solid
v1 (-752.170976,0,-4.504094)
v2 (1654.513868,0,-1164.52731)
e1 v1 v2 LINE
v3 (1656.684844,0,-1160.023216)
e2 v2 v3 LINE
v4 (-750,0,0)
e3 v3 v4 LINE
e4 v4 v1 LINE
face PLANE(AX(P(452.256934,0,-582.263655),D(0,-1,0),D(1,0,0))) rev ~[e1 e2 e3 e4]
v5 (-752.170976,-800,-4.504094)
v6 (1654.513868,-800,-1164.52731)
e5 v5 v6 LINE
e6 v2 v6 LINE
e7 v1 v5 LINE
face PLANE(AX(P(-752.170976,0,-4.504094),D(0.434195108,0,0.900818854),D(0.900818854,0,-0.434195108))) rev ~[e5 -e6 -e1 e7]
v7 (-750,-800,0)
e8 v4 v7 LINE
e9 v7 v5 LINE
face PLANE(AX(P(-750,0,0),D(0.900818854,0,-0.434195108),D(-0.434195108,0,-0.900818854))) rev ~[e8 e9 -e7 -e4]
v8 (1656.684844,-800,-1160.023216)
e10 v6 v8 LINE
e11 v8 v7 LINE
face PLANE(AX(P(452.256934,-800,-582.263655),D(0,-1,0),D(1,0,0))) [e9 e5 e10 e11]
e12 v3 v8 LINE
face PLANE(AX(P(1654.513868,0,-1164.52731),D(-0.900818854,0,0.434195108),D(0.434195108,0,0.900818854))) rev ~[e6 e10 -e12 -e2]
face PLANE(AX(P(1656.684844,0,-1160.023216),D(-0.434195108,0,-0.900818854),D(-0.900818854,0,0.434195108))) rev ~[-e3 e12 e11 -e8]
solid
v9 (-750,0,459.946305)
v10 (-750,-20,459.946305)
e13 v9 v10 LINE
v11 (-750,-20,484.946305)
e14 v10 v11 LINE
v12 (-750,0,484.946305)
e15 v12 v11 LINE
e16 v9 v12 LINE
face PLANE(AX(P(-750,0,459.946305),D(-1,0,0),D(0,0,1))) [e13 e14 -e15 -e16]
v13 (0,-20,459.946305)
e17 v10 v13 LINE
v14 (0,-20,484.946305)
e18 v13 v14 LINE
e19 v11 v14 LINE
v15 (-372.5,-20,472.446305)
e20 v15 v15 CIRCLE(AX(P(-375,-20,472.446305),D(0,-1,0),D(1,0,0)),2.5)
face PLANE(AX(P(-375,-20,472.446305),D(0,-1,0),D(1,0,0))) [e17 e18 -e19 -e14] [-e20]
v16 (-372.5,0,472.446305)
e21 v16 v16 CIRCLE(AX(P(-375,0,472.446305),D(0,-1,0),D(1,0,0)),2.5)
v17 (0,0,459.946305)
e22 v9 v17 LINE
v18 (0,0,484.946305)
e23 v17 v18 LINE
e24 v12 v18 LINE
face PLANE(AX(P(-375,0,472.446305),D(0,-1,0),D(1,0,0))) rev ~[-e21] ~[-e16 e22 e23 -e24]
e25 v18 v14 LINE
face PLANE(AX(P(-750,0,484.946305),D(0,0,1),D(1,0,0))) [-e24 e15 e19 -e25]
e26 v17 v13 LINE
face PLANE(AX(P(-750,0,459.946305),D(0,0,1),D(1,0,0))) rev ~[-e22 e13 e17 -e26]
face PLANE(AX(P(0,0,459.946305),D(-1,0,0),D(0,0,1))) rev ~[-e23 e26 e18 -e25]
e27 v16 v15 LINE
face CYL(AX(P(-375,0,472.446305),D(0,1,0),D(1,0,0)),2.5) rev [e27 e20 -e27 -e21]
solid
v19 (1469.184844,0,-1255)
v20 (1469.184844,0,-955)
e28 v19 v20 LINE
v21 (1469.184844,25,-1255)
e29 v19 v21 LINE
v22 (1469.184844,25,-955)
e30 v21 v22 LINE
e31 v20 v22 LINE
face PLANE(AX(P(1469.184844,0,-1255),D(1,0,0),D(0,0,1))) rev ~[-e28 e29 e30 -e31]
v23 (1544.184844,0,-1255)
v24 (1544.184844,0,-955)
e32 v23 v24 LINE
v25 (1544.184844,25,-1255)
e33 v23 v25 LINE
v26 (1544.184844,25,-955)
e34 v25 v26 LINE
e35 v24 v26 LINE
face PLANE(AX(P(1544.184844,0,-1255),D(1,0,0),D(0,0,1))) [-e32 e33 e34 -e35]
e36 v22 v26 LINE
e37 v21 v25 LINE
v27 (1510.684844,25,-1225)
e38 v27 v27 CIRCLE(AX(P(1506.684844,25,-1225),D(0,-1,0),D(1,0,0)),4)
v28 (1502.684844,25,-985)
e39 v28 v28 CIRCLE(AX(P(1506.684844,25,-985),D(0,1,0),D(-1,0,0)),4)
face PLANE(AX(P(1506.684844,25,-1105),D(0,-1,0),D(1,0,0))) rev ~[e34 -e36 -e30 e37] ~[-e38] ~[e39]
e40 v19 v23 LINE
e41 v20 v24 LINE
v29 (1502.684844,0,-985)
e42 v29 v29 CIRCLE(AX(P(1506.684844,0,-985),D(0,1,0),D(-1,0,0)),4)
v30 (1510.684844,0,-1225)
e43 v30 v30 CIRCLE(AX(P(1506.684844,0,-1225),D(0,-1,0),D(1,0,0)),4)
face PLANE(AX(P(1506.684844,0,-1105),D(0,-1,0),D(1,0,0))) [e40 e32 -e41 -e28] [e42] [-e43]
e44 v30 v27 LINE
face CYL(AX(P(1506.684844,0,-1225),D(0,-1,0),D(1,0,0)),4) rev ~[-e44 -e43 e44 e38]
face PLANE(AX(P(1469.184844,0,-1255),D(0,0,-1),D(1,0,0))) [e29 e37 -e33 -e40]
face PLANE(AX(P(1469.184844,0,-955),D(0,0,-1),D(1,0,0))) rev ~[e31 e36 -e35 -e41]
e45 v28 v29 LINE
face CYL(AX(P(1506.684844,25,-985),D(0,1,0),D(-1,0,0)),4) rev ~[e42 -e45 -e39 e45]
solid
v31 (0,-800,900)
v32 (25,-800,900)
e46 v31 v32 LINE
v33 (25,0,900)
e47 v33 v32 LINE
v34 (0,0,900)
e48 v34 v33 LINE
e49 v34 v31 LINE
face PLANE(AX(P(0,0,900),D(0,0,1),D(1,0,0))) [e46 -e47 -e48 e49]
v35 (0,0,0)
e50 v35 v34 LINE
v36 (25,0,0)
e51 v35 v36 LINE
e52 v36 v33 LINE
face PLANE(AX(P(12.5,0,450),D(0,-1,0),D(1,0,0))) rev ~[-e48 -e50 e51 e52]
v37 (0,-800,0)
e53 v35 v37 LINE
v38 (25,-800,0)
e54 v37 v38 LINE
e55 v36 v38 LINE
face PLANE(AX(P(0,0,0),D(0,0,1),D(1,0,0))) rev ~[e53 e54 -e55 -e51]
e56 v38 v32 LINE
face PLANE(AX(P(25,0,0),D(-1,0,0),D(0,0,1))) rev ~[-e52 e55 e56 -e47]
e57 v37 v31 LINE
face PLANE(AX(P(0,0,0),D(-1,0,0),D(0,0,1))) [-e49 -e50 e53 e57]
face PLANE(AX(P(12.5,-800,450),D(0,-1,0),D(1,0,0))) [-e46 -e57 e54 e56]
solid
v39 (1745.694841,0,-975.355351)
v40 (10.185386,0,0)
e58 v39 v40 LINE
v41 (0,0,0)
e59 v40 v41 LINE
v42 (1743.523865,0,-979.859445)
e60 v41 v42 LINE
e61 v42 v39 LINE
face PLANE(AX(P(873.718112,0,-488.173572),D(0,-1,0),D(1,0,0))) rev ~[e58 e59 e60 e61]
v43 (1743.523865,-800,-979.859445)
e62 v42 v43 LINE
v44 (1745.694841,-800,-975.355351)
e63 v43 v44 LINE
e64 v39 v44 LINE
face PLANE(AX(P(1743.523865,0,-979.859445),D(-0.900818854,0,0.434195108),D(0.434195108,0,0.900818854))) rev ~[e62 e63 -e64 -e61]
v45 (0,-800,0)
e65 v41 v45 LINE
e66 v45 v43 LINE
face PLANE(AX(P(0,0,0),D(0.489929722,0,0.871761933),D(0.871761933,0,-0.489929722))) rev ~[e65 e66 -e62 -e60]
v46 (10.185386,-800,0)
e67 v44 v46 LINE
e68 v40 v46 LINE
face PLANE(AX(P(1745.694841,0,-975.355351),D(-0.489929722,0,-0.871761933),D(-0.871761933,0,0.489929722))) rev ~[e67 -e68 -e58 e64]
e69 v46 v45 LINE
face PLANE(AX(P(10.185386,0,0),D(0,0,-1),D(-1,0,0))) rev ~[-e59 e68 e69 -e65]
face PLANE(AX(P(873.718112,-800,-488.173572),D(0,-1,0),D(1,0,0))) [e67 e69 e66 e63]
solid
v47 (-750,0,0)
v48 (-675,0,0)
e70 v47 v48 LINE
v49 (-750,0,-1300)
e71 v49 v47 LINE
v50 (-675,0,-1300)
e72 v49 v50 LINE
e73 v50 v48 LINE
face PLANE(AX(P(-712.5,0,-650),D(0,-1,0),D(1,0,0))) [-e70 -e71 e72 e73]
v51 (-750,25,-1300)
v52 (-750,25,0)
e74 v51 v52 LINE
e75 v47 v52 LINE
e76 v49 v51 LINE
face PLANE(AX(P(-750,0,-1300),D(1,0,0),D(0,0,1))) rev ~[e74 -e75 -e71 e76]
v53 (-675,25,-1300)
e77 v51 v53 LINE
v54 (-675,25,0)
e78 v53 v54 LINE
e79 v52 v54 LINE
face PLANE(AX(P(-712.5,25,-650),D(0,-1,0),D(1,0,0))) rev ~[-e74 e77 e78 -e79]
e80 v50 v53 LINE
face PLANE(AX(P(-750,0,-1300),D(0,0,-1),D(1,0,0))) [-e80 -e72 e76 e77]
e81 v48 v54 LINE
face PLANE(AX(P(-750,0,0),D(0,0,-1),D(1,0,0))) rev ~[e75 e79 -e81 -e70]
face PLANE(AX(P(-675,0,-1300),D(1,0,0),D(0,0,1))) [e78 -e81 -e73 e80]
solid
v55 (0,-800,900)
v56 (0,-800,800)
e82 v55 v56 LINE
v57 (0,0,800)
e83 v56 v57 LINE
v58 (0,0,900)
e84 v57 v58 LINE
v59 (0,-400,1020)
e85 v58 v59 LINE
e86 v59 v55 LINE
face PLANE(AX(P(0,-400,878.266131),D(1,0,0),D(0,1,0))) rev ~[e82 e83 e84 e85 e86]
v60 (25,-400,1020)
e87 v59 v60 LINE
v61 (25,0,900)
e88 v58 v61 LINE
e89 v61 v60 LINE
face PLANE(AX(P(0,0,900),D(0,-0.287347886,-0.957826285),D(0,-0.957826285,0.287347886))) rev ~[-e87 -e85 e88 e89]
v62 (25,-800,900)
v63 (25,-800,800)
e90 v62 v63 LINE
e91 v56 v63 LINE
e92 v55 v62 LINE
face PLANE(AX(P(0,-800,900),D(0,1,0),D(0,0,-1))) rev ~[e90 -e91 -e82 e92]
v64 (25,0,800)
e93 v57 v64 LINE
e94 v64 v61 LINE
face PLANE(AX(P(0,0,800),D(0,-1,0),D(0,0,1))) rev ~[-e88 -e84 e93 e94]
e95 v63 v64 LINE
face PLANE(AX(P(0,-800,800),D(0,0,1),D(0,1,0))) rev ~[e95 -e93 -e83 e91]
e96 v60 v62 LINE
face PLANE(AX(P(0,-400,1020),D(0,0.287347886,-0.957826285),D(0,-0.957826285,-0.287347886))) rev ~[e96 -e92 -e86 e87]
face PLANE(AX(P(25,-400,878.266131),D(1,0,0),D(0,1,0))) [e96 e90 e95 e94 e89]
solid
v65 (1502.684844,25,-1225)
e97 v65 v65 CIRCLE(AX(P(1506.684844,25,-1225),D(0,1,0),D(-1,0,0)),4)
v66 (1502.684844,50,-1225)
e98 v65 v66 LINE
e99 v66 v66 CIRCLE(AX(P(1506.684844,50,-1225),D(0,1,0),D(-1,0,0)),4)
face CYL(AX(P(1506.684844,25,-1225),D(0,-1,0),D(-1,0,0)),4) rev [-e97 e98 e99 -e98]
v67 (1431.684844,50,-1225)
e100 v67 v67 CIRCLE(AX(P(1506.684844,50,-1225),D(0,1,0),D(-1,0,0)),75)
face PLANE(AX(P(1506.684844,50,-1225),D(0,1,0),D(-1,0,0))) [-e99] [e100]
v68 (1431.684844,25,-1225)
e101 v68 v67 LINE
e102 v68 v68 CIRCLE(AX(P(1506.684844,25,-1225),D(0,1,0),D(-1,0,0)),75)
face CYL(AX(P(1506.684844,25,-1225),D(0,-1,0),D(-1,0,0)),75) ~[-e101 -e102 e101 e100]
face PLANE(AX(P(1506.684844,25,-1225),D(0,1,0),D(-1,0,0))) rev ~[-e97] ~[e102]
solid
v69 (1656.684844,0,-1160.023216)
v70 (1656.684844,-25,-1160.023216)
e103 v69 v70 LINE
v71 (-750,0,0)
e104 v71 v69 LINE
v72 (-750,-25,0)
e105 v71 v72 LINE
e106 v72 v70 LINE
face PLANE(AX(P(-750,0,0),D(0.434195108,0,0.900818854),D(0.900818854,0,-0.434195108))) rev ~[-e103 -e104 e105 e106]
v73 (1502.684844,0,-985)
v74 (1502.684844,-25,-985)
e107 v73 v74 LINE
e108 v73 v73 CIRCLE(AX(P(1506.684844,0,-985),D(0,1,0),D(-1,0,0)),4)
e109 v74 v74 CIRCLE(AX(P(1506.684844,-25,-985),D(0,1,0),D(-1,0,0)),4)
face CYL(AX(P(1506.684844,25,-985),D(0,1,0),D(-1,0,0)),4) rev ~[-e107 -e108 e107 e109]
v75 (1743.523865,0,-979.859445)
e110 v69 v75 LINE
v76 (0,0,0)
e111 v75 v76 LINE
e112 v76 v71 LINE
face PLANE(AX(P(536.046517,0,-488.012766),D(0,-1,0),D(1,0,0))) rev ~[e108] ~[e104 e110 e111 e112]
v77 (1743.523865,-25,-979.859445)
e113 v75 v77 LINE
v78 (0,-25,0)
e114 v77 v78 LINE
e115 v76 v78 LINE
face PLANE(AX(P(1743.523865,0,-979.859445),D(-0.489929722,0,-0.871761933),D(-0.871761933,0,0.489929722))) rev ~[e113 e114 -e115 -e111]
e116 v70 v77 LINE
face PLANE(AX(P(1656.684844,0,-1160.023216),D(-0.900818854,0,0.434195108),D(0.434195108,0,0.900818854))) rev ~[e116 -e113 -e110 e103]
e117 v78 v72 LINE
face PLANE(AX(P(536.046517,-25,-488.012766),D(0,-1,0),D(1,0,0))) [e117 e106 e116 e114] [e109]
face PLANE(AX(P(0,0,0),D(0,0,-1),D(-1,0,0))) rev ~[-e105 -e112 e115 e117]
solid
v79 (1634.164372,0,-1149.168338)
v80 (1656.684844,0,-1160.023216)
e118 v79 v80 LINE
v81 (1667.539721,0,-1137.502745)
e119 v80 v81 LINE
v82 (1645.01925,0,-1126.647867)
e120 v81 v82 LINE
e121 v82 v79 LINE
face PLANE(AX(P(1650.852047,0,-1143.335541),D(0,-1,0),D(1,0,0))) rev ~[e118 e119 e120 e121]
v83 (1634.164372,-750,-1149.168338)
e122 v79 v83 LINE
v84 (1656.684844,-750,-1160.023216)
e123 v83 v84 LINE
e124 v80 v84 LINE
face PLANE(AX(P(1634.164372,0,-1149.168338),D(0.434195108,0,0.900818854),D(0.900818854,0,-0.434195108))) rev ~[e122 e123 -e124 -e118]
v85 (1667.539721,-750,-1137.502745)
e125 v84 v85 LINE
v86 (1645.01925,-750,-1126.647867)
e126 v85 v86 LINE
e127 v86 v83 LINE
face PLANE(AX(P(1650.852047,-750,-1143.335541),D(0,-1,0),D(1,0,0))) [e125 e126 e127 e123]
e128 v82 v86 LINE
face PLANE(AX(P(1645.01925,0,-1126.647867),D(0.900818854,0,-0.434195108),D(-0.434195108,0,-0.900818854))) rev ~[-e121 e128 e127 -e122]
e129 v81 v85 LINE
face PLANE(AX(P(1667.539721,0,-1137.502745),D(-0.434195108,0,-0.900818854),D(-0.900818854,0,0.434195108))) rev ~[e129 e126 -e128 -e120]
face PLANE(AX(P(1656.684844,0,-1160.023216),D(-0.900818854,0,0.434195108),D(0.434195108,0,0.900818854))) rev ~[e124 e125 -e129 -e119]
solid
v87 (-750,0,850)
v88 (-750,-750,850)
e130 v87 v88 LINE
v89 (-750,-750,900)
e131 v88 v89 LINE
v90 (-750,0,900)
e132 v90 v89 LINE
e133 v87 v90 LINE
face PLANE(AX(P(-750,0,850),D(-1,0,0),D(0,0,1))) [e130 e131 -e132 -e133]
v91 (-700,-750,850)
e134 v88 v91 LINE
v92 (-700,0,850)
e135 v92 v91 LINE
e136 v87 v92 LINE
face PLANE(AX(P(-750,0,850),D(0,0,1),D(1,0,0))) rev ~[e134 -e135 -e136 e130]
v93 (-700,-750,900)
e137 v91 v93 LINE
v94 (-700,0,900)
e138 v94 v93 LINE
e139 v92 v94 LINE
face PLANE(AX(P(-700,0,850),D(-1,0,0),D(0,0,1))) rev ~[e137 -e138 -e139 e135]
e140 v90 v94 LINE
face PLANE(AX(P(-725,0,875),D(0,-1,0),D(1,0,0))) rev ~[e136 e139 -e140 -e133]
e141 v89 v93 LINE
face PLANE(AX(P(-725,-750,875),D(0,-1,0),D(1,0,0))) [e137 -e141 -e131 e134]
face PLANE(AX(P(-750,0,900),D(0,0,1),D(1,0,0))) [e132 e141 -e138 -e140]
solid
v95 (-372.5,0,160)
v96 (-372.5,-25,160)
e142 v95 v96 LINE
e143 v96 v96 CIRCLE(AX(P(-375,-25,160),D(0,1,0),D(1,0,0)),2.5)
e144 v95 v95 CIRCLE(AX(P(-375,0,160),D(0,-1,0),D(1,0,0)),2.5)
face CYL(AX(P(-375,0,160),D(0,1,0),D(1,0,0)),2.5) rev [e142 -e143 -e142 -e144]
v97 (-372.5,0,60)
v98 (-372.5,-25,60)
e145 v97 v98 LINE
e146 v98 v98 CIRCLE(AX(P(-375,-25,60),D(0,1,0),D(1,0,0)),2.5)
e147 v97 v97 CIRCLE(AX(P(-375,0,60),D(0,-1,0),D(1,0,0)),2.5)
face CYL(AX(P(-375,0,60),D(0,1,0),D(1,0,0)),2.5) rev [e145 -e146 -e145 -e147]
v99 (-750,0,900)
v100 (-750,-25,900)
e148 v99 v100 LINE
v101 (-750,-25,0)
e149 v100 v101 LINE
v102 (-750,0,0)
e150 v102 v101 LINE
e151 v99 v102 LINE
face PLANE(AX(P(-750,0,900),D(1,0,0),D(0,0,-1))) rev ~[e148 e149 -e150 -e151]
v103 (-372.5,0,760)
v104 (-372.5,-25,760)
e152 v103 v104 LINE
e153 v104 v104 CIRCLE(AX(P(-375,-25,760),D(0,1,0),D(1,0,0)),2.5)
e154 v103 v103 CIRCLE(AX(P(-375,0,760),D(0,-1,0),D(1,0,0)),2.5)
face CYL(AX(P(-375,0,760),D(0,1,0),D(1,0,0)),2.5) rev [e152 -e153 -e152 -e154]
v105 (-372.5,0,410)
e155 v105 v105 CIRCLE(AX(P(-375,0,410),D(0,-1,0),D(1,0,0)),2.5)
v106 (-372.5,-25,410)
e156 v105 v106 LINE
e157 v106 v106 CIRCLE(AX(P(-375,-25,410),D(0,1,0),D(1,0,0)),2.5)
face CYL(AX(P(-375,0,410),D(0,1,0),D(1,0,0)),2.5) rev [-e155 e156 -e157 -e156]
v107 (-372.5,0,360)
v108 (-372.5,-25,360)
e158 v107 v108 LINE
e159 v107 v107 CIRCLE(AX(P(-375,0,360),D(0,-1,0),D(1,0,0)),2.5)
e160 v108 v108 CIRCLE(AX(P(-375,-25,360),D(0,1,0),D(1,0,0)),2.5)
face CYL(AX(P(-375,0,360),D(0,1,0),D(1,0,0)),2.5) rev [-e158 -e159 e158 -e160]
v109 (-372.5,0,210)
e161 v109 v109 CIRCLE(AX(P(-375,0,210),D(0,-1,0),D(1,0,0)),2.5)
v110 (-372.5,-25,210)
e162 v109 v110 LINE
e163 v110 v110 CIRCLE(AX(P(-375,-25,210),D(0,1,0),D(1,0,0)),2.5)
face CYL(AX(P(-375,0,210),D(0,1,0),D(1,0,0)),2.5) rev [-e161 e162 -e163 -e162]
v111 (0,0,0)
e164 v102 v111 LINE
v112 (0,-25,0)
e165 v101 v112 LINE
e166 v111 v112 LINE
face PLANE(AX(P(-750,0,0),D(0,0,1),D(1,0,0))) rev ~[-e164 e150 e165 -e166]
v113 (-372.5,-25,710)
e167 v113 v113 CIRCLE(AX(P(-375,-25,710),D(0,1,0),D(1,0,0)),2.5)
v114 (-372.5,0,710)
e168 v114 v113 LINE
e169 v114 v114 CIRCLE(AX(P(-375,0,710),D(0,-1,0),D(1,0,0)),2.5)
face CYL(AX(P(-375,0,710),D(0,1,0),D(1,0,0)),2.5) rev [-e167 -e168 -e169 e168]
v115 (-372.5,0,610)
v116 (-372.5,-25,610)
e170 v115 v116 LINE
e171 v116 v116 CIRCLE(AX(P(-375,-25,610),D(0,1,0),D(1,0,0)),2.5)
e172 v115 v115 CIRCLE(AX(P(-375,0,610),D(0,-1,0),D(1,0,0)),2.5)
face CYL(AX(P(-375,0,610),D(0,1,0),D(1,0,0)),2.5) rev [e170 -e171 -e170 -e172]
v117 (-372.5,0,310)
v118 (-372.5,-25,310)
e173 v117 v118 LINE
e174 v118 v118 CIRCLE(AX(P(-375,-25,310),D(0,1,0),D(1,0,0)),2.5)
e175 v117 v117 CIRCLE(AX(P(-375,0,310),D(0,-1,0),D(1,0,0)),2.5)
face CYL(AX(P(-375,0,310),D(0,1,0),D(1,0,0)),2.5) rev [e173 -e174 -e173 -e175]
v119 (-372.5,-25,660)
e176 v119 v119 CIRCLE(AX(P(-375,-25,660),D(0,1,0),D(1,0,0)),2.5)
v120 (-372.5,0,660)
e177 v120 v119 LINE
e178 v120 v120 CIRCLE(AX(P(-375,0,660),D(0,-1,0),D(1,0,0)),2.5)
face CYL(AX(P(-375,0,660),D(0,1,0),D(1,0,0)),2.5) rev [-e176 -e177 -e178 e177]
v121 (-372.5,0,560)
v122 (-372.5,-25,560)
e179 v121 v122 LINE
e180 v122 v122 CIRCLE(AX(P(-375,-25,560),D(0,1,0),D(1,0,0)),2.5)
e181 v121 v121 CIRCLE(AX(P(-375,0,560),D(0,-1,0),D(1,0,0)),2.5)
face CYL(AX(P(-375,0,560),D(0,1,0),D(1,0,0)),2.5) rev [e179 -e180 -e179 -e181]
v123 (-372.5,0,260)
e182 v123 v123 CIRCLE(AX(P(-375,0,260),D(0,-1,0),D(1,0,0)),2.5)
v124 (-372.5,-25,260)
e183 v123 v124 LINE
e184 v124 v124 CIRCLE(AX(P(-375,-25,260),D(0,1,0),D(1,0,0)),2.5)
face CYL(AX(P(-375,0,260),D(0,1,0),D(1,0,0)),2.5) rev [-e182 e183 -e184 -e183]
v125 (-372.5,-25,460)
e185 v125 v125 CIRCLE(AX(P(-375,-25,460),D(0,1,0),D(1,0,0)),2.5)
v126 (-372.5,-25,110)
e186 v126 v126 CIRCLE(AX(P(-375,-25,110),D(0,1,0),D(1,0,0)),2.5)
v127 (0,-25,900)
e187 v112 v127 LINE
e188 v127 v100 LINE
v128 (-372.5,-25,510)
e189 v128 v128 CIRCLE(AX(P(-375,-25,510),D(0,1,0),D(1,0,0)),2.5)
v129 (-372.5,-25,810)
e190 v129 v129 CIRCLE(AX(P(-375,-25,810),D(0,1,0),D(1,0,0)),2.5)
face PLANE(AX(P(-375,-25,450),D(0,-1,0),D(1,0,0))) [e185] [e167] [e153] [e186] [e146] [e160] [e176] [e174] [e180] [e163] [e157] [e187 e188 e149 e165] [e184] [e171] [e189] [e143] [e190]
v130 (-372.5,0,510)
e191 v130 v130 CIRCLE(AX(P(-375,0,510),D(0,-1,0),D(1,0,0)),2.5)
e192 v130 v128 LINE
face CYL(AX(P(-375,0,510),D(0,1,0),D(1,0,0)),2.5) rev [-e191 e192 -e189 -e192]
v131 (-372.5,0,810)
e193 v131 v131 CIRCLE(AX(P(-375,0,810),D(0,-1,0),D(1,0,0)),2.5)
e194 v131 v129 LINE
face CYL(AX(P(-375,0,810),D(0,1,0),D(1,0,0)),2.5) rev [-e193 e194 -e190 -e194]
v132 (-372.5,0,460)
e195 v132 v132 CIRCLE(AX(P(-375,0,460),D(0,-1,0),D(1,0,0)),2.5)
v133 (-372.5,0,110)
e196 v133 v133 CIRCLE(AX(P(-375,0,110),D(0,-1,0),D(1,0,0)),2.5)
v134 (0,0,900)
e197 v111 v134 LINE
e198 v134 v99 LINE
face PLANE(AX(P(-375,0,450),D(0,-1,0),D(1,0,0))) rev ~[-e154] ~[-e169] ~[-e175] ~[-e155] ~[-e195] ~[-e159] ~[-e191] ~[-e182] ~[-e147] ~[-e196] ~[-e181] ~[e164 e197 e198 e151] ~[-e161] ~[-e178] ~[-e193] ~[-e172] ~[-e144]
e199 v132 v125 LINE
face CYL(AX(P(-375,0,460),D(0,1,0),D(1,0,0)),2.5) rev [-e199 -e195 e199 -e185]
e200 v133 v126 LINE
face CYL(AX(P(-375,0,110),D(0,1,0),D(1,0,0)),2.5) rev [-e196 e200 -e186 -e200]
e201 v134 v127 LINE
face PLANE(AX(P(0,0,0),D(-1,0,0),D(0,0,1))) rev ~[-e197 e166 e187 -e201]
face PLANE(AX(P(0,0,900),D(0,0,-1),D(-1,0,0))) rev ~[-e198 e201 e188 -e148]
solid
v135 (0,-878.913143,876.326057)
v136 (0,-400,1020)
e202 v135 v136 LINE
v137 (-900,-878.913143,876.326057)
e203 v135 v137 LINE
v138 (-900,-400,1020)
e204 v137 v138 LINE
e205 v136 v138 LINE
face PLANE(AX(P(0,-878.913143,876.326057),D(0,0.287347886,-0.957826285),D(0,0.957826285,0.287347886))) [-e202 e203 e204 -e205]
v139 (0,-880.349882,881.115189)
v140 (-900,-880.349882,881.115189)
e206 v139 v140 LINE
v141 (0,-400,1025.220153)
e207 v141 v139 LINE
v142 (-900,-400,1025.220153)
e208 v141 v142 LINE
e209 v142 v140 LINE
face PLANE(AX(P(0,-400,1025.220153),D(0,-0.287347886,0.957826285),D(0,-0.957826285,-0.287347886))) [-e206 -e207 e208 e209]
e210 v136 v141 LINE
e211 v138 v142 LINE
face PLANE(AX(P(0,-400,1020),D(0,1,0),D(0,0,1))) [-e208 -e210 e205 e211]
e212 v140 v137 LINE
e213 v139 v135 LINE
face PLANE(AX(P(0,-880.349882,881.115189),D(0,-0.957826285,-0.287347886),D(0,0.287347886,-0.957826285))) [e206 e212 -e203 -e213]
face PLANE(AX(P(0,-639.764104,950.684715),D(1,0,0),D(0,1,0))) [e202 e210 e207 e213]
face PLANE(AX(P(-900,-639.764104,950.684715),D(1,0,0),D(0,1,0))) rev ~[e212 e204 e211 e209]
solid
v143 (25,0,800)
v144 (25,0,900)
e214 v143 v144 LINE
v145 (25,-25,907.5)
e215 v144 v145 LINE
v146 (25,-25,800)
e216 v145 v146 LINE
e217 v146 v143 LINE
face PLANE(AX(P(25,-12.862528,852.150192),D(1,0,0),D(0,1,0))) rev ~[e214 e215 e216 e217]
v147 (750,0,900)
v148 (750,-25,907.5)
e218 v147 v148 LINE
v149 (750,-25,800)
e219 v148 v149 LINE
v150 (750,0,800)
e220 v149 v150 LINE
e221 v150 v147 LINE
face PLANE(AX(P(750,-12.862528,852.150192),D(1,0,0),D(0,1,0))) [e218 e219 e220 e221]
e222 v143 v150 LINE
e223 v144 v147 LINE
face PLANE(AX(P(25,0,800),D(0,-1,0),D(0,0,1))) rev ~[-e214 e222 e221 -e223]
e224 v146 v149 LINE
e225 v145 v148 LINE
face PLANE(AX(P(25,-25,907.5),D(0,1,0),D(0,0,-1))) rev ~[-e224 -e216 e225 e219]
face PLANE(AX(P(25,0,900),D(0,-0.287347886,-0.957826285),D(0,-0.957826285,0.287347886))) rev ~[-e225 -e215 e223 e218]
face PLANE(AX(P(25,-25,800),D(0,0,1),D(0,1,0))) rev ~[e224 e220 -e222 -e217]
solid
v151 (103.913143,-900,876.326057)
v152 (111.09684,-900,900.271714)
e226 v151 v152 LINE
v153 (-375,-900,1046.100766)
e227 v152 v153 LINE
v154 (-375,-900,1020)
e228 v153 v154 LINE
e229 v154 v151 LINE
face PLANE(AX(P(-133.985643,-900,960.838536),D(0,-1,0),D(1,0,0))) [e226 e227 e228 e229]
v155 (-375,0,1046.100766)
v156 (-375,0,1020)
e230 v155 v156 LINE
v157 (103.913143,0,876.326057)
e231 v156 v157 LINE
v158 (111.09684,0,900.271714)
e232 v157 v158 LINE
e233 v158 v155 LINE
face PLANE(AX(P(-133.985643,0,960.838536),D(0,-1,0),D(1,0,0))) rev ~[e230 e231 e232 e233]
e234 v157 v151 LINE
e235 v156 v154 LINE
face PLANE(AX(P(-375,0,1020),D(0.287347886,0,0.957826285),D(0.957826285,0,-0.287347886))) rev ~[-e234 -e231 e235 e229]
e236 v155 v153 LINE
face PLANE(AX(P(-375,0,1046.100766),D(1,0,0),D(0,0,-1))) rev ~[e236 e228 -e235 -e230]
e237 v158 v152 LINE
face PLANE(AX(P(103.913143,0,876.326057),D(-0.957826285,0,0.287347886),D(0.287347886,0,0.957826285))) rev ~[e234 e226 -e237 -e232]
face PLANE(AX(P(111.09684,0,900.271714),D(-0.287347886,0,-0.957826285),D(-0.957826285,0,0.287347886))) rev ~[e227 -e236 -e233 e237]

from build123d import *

# Parameters (mm, degrees)
F1_DEPTH  = 25
F2_DEPTH  = 25
F3_W      = 50
F3_H      = 50
F4_DEPTH  = 750
F5_W      = 25
F5_H      = 900
F6_DEPTH  = 800
F8_DEPTH  = 800
F9_W      = 750
F9_H      = 25
F9_R      = 2.5
F10_DEPTH = 20
F12_DEPTH = 900
F14_DEPTH = 800
F16_DEPTH = 900
F17_DEPTH = 25
F19_DEPTH = 725
F21_W     = 75
F21_H     = 1300
F22_DEPTH = 25
F23_W     = 75
F23_H     = 300
F23_R     = 4
F24_DEPTH = 25
F25_R     = 75
F25_R_2   = 4
F26_DEPTH = 25
F27_R     = 4
F28_DEPTH = 925.001
F29_R     = 2.5
F30_DEPTH = 900.001


with BuildPart() as f1:
    # F0 (on Front) → F1 (new body)
    with BuildSketch(Plane.XZ):
        Polygon((-750, 0), (1656.6848435524, -1160.0232158931), (1743.5238650638, -979.8594449986), (0, 0), align=None)
    extrude(amount=F1_DEPTH)


with BuildPart() as f2:
    # F0 (on Front) → F2 (new body)
    with BuildSketch(Plane.XZ):
        Polygon((-750, 900), (-750, 0), (0, 0), (0, 200), (0, 900), align=None)
    extrude(amount=F2_DEPTH)

    # F29 (on face) → F30 (cut, through all)
    with BuildSketch(Plane.XZ):
        with Locations((-375, 60)):
            Circle(F29_R)
        with Locations((-375, 110)):
            Circle(F29_R)
        with Locations((-375, 160)):
            Circle(F29_R)
        with Locations((-375, 210)):
            Circle(F29_R)
        with Locations((-375, 260)):
            Circle(F29_R)
        with Locations((-375, 310)):
            Circle(F29_R)
        with Locations((-375, 360)):
            Circle(F29_R)
        with Locations((-375, 410)):
            Circle(F29_R)
        with Locations((-375, 460)):
            Circle(F29_R)
        with Locations((-375, 510)):
            Circle(F29_R)
        with Locations((-375, 560)):
            Circle(F29_R)
        with Locations((-375, 610)):
            Circle(F29_R)
        with Locations((-375, 660)):
            Circle(F29_R)
        with Locations((-375, 710)):
            Circle(F29_R)
        with Locations((-375, 760)):
            Circle(F29_R)
        with Locations((-375, 810)):
            Circle(F29_R)
    extrude(amount=F30_DEPTH, mode=Mode.SUBTRACT)


with BuildPart() as f4:
    # F3 (on Front) → F4 (new body)
    with BuildSketch(Plane.XZ):
        with Locations((-725, 875)):
            Rectangle(F3_W, F3_H)
    extrude(amount=F4_DEPTH)


with BuildPart() as f4b:
    # F3 (on Front) → F4, piece 2 (new body)
    with BuildSketch(Plane.XZ):
        Polygon((1656.6848435524, -1160.0232158931), (1667.5397212413, -1137.5027445313), (1645.0192498795, -1126.6478668424), (1634.1643721905, -1149.1683382042), align=None)
    extrude(amount=F4_DEPTH)


with BuildPart() as f6:
    # F5 (on Front) → F6 (new body)
    with BuildSketch(Plane.XZ):
        with Locations((12.5, 450)):
            Rectangle(F5_W, F5_H)
    extrude(amount=F6_DEPTH)


with BuildPart() as f8:
    # F7 (on Front) → F8 (new body)
    with BuildSketch(Plane.XZ):
        Polygon((1656.6848435524, -1160.0232158931), (-750, 0), (-752.1709755378, -4.5040942724), (1654.5138680146, -1164.5273101655), align=None)
    extrude(amount=F8_DEPTH)


with BuildPart() as f10:
    # F9 (on Front) → F10 (new body)
    with BuildSketch(Plane.XZ):
        with Locations((-375, 472.4463045597)):
            Rectangle(F9_W, F9_H)
        with Locations((-375, 472.4463045597)):
            Circle(F9_R, mode=Mode.SUBTRACT)
    extrude(amount=F10_DEPTH)


with BuildPart() as f12:
    # F11 (on Front) → F12 (new body)
    with BuildSketch(Plane.XZ):
        Polygon((-375, 1046.1007662723), (-375, 1020), (103.9131426106, 876.3260572168), (111.0968397497, 900.2717143474), align=None)
    extrude(amount=F12_DEPTH)


with BuildPart() as f14:
    # F13 (on Front) → F14 (new body)
    with BuildSketch(Plane.XZ):
        Polygon((0, 0), (1743.5238650638, -979.8594449986), (1745.6948406016, -975.3553507262), (10.1853860682, 0), align=None)
    extrude(amount=F14_DEPTH)


with BuildPart() as f16:
    # F15 (on Right) → F16 (new body)
    with BuildSketch(Plane.YZ):
        Polygon((-800, 900), (-400, 1020), (-400, 1025.2201532545), (-880.3498820384, 881.1151886429), (-878.9131426106, 876.3260572168), align=None)
    extrude(amount=-F16_DEPTH)


with BuildPart() as f17:
    # F15 (on Right) → F17 (new body)
    with BuildSketch(Plane.YZ):
        Polygon((0, 900), (-400, 1020), (-800, 900), (-800, 800), (0, 800), align=None)
    extrude(amount=F17_DEPTH)


with BuildPart() as f19:
    # F18 (on face) → F19 (new body)
    with BuildSketch(Plane.YZ.offset(25)):
        Polygon((-25, 800), (0, 800), (0, 900), (-25, 907.5), align=None)
    extrude(amount=F19_DEPTH)


with BuildPart() as f22:
    # F21 (on Front) → F22 (new body)
    with BuildSketch(Plane.XZ):
        with Locations((-712.5, -650)):
            Rectangle(F21_W, F21_H)
    extrude(amount=-F22_DEPTH)


with BuildPart() as f24:
    # F23 (on Front) → F24 (new body)
    with BuildSketch(Plane.XZ):
        with Locations((1506.6848435524, -1105)):
            Rectangle(F23_W, F23_H)
        with Locations((1506.6848435524, -1225)):
            Circle(F23_R, mode=Mode.SUBTRACT)
    extrude(amount=-F24_DEPTH)


with BuildPart() as f26:
    # F25 (on face) → F26 (new body)
    with BuildSketch(Plane(origin=(0, 25, 0), x_dir=(-1, 0, 0), z_dir=(0, 1, 0))):
        with Locations((-1506.6848435524, -1225)):
            Circle(F25_R)
        with Locations((-1506.6848435524, -1225)):
            Circle(F25_R_2, mode=Mode.SUBTRACT)
    extrude(amount=F26_DEPTH)


with BuildPart() as f28_tool:
    # F27 (on face) → F28 (new body, through all)
    with BuildSketch(Plane(origin=(0, 25, 0), x_dir=(-1, 0, 0), z_dir=(0, 1, 0))):
        with Locations((-1506.6848435524, -985)):
            Circle(F27_R)
    extrude(amount=-F28_DEPTH)


with BuildPart() as f1_1:
    add(f1.part)

    # F28: cut by f28_tool
    add(f28_tool.part, mode=Mode.SUBTRACT)


with BuildPart() as f24_1:
    add(f24.part)

    # F28: cut by f28_tool
    add(f28_tool.part, mode=Mode.SUBTRACT)


solid = Compound([f2.part, f4.part, f4b.part, f6.part, f8.part, f10.part, f12.part, f14.part, f16.part, f17.part, f19.part, f22.part, f26.part, f1_1.part, f24_1.part])
